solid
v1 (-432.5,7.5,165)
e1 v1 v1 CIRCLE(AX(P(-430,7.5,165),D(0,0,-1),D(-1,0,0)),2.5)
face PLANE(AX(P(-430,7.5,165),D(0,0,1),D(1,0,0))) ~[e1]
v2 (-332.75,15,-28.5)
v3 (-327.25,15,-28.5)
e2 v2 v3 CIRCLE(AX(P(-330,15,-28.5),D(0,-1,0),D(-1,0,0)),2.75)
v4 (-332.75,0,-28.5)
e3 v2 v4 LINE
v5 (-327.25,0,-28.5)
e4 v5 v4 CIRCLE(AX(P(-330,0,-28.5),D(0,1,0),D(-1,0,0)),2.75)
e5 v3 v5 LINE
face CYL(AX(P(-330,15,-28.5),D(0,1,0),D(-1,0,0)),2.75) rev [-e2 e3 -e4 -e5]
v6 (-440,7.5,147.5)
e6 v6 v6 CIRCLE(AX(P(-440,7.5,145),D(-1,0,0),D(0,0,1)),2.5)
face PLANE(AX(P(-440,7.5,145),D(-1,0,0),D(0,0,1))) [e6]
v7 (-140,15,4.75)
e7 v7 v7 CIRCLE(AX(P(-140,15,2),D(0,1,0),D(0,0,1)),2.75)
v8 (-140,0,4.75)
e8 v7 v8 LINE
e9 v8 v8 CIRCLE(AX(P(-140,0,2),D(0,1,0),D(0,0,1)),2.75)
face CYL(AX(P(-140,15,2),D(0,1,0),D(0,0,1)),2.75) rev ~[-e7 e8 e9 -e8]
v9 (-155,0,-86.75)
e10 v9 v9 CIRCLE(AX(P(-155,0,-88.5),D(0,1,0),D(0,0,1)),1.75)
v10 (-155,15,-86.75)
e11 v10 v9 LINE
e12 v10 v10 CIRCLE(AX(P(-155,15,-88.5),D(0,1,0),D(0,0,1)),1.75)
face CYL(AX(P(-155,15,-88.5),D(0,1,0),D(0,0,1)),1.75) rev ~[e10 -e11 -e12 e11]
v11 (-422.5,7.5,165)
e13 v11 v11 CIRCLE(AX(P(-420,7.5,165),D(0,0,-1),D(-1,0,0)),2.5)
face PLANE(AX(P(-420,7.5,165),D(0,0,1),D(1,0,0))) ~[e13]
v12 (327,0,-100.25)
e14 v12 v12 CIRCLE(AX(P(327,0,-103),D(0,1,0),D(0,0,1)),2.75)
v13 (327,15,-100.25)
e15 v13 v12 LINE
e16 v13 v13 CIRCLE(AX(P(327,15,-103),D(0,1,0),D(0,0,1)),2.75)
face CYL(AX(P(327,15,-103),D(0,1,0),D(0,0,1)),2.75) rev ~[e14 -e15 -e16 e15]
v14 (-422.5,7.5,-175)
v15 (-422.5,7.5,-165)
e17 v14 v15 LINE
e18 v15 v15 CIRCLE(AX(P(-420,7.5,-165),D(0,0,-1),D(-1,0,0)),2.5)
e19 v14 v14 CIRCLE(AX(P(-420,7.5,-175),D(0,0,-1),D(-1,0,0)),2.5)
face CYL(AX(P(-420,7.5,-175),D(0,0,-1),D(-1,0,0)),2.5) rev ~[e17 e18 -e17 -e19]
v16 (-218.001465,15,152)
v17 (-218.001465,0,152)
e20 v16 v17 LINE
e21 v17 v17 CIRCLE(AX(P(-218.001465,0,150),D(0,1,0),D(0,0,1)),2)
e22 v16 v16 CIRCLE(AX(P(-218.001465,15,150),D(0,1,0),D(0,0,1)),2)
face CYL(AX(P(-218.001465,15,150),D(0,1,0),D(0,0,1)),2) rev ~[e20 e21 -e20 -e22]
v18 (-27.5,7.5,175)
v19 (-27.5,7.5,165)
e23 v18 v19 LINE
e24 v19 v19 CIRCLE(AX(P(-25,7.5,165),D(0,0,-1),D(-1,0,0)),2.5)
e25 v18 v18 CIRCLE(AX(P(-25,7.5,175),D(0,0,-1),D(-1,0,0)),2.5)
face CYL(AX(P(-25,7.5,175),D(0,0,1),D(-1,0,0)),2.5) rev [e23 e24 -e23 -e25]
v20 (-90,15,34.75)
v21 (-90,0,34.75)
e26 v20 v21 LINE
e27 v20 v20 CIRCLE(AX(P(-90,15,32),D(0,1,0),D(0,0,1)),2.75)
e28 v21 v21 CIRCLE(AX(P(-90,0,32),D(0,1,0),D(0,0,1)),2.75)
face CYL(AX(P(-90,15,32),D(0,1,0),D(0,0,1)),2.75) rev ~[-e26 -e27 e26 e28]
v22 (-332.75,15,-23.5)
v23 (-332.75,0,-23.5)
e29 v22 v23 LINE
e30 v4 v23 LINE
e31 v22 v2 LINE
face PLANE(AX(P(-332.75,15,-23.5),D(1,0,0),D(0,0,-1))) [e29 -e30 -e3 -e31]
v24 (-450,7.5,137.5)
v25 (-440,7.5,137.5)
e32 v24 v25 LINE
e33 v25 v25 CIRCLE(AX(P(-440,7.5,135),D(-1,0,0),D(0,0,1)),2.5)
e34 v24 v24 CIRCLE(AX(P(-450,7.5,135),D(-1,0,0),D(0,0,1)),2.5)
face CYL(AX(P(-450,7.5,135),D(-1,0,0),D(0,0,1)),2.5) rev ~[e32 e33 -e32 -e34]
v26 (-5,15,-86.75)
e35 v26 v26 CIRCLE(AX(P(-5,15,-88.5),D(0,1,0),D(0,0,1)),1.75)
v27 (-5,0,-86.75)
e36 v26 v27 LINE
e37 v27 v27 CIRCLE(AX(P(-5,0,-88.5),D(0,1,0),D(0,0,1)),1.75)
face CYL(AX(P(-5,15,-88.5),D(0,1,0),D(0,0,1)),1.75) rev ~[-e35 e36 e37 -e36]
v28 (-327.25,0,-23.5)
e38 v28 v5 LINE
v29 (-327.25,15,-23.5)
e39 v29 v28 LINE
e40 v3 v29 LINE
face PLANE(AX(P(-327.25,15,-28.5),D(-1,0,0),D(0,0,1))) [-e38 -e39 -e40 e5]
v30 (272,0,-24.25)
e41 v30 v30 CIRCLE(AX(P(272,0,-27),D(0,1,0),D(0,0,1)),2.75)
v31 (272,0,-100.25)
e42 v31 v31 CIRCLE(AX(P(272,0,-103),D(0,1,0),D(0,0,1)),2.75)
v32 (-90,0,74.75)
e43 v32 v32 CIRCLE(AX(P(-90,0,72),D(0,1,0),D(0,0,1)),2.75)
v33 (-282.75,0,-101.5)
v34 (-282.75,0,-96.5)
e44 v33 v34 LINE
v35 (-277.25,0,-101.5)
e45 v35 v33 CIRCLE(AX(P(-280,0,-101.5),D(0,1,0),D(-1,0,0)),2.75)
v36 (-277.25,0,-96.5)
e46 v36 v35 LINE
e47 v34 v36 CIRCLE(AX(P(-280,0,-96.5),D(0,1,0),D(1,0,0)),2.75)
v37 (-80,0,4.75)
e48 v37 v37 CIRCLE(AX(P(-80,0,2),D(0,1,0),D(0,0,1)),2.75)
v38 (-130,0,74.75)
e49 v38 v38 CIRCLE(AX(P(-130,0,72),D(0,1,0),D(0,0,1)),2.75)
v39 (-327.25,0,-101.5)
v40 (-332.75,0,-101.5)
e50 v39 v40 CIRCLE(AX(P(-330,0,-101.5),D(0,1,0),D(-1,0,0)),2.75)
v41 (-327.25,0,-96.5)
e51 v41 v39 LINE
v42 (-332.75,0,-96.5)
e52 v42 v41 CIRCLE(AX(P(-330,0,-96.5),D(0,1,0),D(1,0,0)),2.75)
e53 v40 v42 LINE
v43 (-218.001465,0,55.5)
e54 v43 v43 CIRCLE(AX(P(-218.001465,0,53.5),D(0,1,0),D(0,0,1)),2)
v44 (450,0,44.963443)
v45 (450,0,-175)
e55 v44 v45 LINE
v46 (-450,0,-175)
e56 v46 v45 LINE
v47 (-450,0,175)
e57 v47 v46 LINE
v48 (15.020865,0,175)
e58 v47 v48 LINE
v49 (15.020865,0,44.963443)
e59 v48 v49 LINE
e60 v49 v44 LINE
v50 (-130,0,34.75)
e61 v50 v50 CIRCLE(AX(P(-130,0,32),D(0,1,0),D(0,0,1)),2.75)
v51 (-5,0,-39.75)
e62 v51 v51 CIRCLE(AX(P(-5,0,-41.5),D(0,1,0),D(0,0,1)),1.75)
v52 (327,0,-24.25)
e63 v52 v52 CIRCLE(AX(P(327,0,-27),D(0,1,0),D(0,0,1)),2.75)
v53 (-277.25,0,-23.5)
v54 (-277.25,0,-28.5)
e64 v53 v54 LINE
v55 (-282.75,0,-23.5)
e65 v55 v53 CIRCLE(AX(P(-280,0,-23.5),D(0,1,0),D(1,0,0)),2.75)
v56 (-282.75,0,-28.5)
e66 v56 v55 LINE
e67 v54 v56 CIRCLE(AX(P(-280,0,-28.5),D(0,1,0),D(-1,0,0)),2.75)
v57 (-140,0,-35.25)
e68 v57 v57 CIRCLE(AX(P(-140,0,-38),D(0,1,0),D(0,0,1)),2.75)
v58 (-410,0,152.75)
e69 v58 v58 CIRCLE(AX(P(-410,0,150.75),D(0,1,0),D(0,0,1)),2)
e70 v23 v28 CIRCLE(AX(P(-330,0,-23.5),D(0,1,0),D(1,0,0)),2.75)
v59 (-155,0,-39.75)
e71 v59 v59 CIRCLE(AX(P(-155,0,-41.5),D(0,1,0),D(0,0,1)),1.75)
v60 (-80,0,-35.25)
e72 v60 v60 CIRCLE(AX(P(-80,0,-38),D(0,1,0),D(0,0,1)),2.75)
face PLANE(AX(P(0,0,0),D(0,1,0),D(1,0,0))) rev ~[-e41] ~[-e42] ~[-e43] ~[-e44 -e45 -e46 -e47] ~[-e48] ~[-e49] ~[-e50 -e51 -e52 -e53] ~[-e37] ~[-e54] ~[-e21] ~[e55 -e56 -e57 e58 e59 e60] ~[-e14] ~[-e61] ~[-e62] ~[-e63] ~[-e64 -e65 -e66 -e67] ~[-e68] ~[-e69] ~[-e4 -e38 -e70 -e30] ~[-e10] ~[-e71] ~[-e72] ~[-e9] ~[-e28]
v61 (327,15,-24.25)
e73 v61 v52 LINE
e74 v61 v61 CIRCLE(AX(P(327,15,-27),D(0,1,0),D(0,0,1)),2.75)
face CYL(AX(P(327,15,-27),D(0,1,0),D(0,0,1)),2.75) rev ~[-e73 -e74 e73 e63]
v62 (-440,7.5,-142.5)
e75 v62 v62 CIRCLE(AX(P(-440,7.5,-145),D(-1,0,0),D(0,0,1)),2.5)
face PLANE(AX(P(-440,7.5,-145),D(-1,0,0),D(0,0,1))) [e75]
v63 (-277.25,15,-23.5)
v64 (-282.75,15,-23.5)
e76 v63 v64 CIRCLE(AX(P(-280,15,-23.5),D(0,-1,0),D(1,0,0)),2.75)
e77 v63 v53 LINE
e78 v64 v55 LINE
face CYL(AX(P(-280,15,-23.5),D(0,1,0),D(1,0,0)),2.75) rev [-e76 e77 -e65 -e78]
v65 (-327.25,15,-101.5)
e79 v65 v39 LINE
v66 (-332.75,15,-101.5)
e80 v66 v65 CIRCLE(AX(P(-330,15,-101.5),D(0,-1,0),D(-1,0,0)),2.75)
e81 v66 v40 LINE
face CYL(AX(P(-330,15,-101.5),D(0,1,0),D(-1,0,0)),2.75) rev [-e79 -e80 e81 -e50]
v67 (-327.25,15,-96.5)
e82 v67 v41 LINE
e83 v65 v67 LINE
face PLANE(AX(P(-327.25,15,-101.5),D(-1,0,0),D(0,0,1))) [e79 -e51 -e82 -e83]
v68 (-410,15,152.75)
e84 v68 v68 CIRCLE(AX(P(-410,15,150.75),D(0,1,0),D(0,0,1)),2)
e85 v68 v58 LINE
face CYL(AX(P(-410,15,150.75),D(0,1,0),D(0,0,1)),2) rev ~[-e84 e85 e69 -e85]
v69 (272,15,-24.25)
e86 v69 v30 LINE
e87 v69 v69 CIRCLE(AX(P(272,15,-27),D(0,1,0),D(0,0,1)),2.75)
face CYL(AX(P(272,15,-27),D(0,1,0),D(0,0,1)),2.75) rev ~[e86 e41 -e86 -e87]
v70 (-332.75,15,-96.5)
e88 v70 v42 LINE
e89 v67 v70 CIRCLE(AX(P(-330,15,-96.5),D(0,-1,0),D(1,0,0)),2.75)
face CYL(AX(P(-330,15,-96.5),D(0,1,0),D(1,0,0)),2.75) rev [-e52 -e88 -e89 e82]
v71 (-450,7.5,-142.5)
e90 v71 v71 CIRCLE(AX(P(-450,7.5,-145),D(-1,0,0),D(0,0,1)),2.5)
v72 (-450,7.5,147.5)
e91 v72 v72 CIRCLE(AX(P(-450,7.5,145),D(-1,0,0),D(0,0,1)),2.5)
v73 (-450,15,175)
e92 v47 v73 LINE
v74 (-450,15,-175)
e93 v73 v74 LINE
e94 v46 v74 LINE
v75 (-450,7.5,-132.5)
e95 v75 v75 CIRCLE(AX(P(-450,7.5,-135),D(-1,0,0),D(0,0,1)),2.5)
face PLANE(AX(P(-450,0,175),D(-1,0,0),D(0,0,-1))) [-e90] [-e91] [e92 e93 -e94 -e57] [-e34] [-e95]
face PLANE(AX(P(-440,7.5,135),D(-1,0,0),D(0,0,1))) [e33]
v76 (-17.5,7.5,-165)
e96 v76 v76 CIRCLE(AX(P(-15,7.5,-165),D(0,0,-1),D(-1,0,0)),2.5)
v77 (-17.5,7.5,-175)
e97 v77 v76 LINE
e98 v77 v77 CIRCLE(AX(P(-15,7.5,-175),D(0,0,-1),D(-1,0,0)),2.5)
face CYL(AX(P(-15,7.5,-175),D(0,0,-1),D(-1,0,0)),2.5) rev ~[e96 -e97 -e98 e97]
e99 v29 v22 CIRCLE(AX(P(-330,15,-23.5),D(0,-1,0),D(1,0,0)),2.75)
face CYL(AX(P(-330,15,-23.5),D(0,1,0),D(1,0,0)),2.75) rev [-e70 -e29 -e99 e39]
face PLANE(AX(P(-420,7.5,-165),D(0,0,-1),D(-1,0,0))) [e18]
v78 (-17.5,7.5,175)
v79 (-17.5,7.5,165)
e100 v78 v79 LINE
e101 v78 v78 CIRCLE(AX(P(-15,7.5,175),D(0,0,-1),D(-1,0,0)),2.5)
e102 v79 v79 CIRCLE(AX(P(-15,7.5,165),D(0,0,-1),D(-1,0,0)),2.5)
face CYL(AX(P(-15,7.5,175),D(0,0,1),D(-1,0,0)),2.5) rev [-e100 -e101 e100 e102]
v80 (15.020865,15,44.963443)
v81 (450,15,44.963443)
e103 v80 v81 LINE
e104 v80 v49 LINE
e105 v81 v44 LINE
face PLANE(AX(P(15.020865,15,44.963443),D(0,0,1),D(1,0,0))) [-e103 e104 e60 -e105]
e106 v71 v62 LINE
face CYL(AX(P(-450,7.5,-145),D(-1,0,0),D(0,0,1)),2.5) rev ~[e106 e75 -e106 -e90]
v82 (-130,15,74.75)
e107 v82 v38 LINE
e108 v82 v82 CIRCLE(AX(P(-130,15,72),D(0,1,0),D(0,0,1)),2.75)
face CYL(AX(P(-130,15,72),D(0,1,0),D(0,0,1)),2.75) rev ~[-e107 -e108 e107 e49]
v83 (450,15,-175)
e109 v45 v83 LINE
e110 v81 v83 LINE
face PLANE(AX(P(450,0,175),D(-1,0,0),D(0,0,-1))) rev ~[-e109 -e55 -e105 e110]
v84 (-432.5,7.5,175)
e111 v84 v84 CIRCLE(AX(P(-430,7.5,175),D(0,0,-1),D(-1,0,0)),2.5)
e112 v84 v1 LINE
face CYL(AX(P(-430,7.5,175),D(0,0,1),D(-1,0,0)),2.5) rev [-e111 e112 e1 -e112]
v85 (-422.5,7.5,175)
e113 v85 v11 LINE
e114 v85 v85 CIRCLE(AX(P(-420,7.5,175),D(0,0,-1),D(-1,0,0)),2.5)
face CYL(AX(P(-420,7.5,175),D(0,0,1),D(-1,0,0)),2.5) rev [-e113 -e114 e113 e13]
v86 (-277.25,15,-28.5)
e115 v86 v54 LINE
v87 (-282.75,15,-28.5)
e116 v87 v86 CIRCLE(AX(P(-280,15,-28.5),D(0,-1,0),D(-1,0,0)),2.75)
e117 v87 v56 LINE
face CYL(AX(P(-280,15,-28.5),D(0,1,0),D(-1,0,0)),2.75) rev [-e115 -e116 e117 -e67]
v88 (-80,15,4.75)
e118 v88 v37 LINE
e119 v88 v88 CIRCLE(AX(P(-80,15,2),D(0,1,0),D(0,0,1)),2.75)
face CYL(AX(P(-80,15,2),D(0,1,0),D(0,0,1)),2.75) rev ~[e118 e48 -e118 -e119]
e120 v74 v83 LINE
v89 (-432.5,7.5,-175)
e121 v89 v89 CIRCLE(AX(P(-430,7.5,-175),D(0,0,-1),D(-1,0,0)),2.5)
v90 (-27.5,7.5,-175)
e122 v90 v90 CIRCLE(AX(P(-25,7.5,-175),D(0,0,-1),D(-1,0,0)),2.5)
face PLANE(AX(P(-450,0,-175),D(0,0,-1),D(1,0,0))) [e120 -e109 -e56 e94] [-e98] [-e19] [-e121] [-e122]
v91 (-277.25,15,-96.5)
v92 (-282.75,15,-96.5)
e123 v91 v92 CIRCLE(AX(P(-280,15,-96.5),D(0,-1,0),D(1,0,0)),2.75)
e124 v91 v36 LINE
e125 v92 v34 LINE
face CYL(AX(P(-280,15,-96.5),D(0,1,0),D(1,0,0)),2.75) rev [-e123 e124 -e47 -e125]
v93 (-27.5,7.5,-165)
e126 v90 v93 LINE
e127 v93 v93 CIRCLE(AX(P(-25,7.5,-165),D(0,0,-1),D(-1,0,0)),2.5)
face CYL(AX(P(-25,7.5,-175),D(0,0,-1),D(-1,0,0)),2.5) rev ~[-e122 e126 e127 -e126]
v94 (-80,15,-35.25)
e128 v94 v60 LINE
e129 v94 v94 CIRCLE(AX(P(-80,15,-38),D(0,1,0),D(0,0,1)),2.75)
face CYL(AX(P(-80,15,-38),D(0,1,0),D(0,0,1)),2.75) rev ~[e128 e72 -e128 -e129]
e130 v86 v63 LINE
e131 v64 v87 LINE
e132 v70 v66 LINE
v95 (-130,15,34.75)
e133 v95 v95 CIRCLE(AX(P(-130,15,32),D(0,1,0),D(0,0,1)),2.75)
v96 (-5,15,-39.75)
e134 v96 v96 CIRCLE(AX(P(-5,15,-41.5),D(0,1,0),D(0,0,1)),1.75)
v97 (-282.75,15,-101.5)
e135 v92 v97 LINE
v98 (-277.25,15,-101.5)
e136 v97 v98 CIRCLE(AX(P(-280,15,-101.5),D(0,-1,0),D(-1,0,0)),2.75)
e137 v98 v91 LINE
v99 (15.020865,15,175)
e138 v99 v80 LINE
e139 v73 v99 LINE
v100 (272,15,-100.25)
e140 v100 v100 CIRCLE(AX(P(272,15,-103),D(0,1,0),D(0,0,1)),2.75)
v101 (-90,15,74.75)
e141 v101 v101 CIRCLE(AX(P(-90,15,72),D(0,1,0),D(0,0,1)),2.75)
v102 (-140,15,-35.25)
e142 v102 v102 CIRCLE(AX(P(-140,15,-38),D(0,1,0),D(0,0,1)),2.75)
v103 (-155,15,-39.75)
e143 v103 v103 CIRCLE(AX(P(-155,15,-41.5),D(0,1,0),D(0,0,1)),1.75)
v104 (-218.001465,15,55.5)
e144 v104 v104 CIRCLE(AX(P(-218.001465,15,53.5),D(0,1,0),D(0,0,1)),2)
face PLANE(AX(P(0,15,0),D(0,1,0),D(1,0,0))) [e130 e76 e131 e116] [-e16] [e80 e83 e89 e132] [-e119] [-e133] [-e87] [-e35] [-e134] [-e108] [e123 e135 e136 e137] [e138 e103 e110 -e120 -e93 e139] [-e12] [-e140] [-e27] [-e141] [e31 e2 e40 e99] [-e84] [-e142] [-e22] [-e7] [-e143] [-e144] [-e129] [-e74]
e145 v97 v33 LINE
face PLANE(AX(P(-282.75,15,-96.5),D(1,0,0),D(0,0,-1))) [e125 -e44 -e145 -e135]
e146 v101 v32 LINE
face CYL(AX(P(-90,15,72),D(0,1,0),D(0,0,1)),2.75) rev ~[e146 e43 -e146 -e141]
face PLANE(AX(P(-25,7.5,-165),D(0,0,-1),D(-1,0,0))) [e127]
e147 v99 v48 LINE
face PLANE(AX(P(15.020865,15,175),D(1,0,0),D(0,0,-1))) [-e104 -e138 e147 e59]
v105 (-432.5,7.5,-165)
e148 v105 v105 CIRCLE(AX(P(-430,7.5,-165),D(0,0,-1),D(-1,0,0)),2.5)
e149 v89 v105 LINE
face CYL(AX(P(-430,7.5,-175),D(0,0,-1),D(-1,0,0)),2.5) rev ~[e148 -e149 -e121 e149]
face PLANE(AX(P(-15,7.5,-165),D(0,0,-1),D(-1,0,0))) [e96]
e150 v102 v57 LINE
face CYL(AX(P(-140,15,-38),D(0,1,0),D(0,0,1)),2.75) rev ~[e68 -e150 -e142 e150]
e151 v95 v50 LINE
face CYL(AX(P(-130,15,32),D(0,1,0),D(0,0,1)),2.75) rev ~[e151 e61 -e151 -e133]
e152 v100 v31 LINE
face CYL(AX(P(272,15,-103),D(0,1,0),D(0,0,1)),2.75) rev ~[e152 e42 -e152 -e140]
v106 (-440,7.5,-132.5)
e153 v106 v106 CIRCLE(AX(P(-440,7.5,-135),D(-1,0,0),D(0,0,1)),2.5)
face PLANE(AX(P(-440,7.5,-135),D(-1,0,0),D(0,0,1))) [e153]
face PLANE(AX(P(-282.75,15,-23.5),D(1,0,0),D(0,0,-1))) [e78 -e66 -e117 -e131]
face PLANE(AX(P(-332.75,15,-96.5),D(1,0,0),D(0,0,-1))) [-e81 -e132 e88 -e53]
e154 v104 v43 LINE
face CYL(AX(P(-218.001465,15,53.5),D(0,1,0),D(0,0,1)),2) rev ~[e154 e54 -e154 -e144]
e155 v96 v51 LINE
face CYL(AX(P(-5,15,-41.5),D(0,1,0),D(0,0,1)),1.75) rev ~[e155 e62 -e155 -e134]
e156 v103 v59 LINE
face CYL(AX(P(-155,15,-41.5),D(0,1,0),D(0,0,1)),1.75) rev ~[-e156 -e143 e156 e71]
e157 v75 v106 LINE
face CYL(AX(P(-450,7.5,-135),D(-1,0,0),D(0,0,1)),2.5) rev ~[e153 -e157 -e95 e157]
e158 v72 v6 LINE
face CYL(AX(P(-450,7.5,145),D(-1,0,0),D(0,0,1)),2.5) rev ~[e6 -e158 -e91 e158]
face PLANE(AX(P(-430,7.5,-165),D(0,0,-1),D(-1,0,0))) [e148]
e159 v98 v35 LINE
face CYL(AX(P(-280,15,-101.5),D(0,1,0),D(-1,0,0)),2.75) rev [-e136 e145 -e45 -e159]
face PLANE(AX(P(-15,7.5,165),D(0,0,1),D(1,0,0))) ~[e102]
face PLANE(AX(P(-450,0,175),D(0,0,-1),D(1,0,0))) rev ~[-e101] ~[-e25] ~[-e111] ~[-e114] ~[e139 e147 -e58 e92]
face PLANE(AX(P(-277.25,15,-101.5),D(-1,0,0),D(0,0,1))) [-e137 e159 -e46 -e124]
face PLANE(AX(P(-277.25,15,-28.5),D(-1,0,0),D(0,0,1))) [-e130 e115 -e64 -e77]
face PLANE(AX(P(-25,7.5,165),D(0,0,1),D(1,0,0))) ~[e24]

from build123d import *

# Parameters (mm, degrees)
SKETCH1_W           = 900
SKETCH1_H           = 350
BOSS_EXTRUDE1_DEPTH = 15
CUT_EXTRUDE1_REACH  = 485.063
CUT_EXTRUDE2_REACH  = 485.063
SKETCH3_R           = 2
SKETCH10_R          = 2.75
CUT_EXTRUDE6_DEPTH  = 484.063142871
SKETCH11_R          = 1.75
CUT_EXTRUDE7_DEPTH  = 484.063142871
SKETCH12_R          = 2.75
CUT_EXTRUDE8_DEPTH  = 484.063142871
SKETCH13_R          = 2.5
CUT_EXTRUDE9_DEPTH  = 10
SKETCH14_R          = 2.5
CUT_EXTRUDE10_DEPTH = 10
SKETCH15_W          = 434.979135439
SKETCH15_H          = 130.036556738
CUT_EXTRUDE11_DEPTH = 484.063142871


with BuildPart() as part:
    # Sketch1 → Boss-Extrude1 (new body)
    with BuildSketch(Plane(origin=(0, 0, 0), x_dir=(1, 0, 0), z_dir=(0, 1, 0))):
        Rectangle(SKETCH1_W, SKETCH1_H)
    extrude(amount=BOSS_EXTRUDE1_DEPTH)

    # Sketch2 → Cut-Extrude1 (cut, up to next)
    with BuildSketch(Plane(origin=(0, 15, 0), x_dir=(1, 0, 0), z_dir=(0, 1, 0)), mode=Mode.PRIVATE) as cut_extrude1_sk1:
        with BuildLine():
            Line((-282.75, 23.5), (-282.75, 28.5))
            ThreePointArc((-282.75, 28.5), (-280, 31.25), (-277.25, 28.5))
            Line((-277.25, 28.5), (-277.25, 23.5))
            ThreePointArc((-277.25, 23.5), (-280, 20.75), (-282.75, 23.5))
        make_face()
    cut_extrude1_tool1 = extrude(cut_extrude1_sk1.sketch, amount=-CUT_EXTRUDE1_REACH, mode=Mode.PRIVATE) & part.part
    # Sketch2 → Cut-Extrude1 (cut, up to next)
    with BuildSketch(Plane(origin=(0, 15, 0), x_dir=(1, 0, 0), z_dir=(0, 1, 0)), mode=Mode.PRIVATE) as cut_extrude1_sk2:
        with BuildLine():
            Line((-327.25, 101.5), (-327.25, 96.5))
            ThreePointArc((-327.25, 96.5), (-330, 93.75), (-332.75, 96.5))
            Line((-332.75, 96.5), (-332.75, 101.5))
            ThreePointArc((-332.75, 101.5), (-330, 104.25), (-327.25, 101.5))
        make_face()
    cut_extrude1_tool2 = extrude(cut_extrude1_sk2.sketch, amount=-CUT_EXTRUDE1_REACH, mode=Mode.PRIVATE) & part.part
    # Sketch2 → Cut-Extrude1 (cut, up to next)
    with BuildSketch(Plane(origin=(0, 15, 0), x_dir=(1, 0, 0), z_dir=(0, 1, 0)), mode=Mode.PRIVATE) as cut_extrude1_sk3:
        with BuildLine():
            Line((-327.25, 28.5), (-327.25, 23.5))
            ThreePointArc((-327.25, 23.5), (-330, 20.75), (-332.75, 23.5))
            Line((-332.75, 23.5), (-332.75, 28.5))
            ThreePointArc((-332.75, 28.5), (-330, 31.25), (-327.25, 28.5))
        make_face()
    cut_extrude1_tool3 = extrude(cut_extrude1_sk3.sketch, amount=-CUT_EXTRUDE1_REACH, mode=Mode.PRIVATE) & part.part
    # Sketch2 → Cut-Extrude1 (cut, up to next)
    with BuildSketch(Plane(origin=(0, 15, 0), x_dir=(1, 0, 0), z_dir=(0, 1, 0)), mode=Mode.PRIVATE) as cut_extrude1_sk4:
        with BuildLine():
            Line((-282.75, 96.5), (-282.75, 101.5))
            ThreePointArc((-282.75, 101.5), (-280, 104.25), (-277.25, 101.5))
            Line((-277.25, 101.5), (-277.25, 96.5))
            ThreePointArc((-277.25, 96.5), (-280, 93.75), (-282.75, 96.5))
        make_face()
    cut_extrude1_tool4 = extrude(cut_extrude1_sk4.sketch, amount=-CUT_EXTRUDE1_REACH, mode=Mode.PRIVATE) & part.part
    add(cut_extrude1_tool1.solids().sort_by_distance((-280, 15, -26))[0], mode=Mode.SUBTRACT)
    add(cut_extrude1_tool2.solids().sort_by_distance((-330, 15, -99))[0], mode=Mode.SUBTRACT)
    add(cut_extrude1_tool3.solids().sort_by_distance((-330, 15, -26))[0], mode=Mode.SUBTRACT)
    add(cut_extrude1_tool4.solids().sort_by_distance((-280, 15, -99))[0], mode=Mode.SUBTRACT)

    # Sketch3 → Cut-Extrude2 (cut, up to next)
    with BuildSketch(Plane(origin=(0, 15, 0), x_dir=(1, 0, 0), z_dir=(0, 1, 0)), mode=Mode.PRIVATE) as cut_extrude2_sk1:
        with Locations(Location((-218.001464849, -53.5, 0), (0, 0, 270))):
            Circle(SKETCH3_R)
    cut_extrude2_tool1 = extrude(cut_extrude2_sk1.sketch, amount=-CUT_EXTRUDE2_REACH, mode=Mode.PRIVATE) & part.part
    # Sketch3 → Cut-Extrude2 (cut, up to next)
    with BuildSketch(Plane(origin=(0, 15, 0), x_dir=(1, 0, 0), z_dir=(0, 1, 0)), mode=Mode.PRIVATE) as cut_extrude2_sk2:
        with Locations(Location((-218.001464849, -150, 0), (0, 0, 270))):
            Circle(SKETCH3_R)
    cut_extrude2_tool2 = extrude(cut_extrude2_sk2.sketch, amount=-CUT_EXTRUDE2_REACH, mode=Mode.PRIVATE) & part.part
    # Sketch3 → Cut-Extrude2 (cut, up to next)
    with BuildSketch(Plane(origin=(0, 15, 0), x_dir=(1, 0, 0), z_dir=(0, 1, 0)), mode=Mode.PRIVATE) as cut_extrude2_sk3:
        with Locations(Location((-410, -150.75, 0), (0, 0, 270))):
            Circle(SKETCH3_R)
    cut_extrude2_tool3 = extrude(cut_extrude2_sk3.sketch, amount=-CUT_EXTRUDE2_REACH, mode=Mode.PRIVATE) & part.part
    add(cut_extrude2_tool1.solids().sort_by_distance((-218.001465, 15, 53.5))[0], mode=Mode.SUBTRACT)
    add(cut_extrude2_tool2.solids().sort_by_distance((-218.001465, 15, 150))[0], mode=Mode.SUBTRACT)
    add(cut_extrude2_tool3.solids().sort_by_distance((-410, 15, 150.75))[0], mode=Mode.SUBTRACT)

    # Sketch10 → Cut-Extrude6 (cut, through all)
    with BuildSketch(Plane(origin=(0, 15, 0), x_dir=(1, 0, 0), z_dir=(0, 1, 0))):
        with Locations(Location((-140, 38, 0), (0, 0, 270))):
            Circle(SKETCH10_R)
        with Locations(Location((-140, -2, 0), (0, 0, 270))):
            Circle(SKETCH10_R)
        with Locations(Location((-80, -2, 0), (0, 0, 270))):
            Circle(SKETCH10_R)
        with Locations(Location((-80, 38, 0), (0, 0, 270))):
            Circle(SKETCH10_R)
        with Locations(Location((-130, -32, 0), (0, 0, 270))):
            Circle(SKETCH10_R)
        with Locations(Location((-90, -32, 0), (0, 0, 270))):
            Circle(SKETCH10_R)
        with Locations(Location((-130, -72, 0), (0, 0, 270))):
            Circle(SKETCH10_R)
        with Locations(Location((-90, -72, 0), (0, 0, 270))):
            Circle(SKETCH10_R)
    extrude(amount=-CUT_EXTRUDE6_DEPTH, mode=Mode.SUBTRACT)

    # Sketch11 → Cut-Extrude7 (cut, through all)
    with BuildSketch(Plane(origin=(0, 15, 0), x_dir=(1, 0, 0), z_dir=(0, 1, 0))):
        with Locations(Location((-155, 88.5, 0), (0, 0, 270))):
            Circle(SKETCH11_R)
        with Locations(Location((-155, 41.5, 0), (0, 0, 270))):
            Circle(SKETCH11_R)
        with Locations(Location((-5, 88.5, 0), (0, 0, 270))):
            Circle(SKETCH11_R)
        with Locations(Location((-5, 41.5, 0), (0, 0, 270))):
            Circle(SKETCH11_R)
    extrude(amount=-CUT_EXTRUDE7_DEPTH, mode=Mode.SUBTRACT)

    # Sketch12 → Cut-Extrude8 (cut, through all)
    with BuildSketch(Plane(origin=(0, 15, 0), x_dir=(1, 0, 0), z_dir=(0, 1, 0))):
        with Locations(Location((272, 103, 0), (0, 0, 270))):
            Circle(SKETCH12_R)
        with Locations(Location((327, 103, 0), (0, 0, 270))):
            Circle(SKETCH12_R)
        with Locations(Location((272, 27, 0), (0, 0, 270))):
            Circle(SKETCH12_R)
        with Locations(Location((327, 27, 0), (0, 0, 270))):
            Circle(SKETCH12_R)
    extrude(amount=-CUT_EXTRUDE8_DEPTH, mode=Mode.SUBTRACT)

    # Sketch13 → Cut-Extrude9 (cut)
    with BuildSketch(Plane(origin=(0, 0, -175), x_dir=(-1, 0, 0), z_dir=(0, 0, -1))):
        with Locations((15, 7.5)):
            Circle(SKETCH13_R)
        with Locations((25, 7.5)):
            Circle(SKETCH13_R)
        with Locations((430, 7.5)):
            Circle(SKETCH13_R)
        with Locations((420, 7.5)):
            Circle(SKETCH13_R)
    cut_extrude9 = extrude(amount=-CUT_EXTRUDE9_DEPTH, mode=Mode.SUBTRACT)

    # Mirror1: Cut-Extrude9 across plane
    add(cut_extrude9.mirror(Plane.XY), mode=Mode.SUBTRACT)

    # Sketch14 → Cut-Extrude10 (cut)
    with BuildSketch(Plane.ZY.offset(450)):
        with Locations((-145, 7.5)):
            Circle(SKETCH14_R)
        with Locations((-135, 7.5)):
            Circle(SKETCH14_R)
        with Locations((145, 7.5)):
            Circle(SKETCH14_R)
        with Locations((135, 7.5)):
            Circle(SKETCH14_R)
    extrude(amount=-CUT_EXTRUDE10_DEPTH, mode=Mode.SUBTRACT)

    # Sketch15 → Cut-Extrude11 (cut, through all)
    with BuildSketch(Plane(origin=(0, 15, 0), x_dir=(1, 0, 0), z_dir=(0, 1, 0))):
        with Locations((232.51043228, -109.981721631)):
            Rectangle(SKETCH15_W, SKETCH15_H)
    extrude(amount=-CUT_EXTRUDE11_DEPTH, mode=Mode.SUBTRACT)


solid = part.part
